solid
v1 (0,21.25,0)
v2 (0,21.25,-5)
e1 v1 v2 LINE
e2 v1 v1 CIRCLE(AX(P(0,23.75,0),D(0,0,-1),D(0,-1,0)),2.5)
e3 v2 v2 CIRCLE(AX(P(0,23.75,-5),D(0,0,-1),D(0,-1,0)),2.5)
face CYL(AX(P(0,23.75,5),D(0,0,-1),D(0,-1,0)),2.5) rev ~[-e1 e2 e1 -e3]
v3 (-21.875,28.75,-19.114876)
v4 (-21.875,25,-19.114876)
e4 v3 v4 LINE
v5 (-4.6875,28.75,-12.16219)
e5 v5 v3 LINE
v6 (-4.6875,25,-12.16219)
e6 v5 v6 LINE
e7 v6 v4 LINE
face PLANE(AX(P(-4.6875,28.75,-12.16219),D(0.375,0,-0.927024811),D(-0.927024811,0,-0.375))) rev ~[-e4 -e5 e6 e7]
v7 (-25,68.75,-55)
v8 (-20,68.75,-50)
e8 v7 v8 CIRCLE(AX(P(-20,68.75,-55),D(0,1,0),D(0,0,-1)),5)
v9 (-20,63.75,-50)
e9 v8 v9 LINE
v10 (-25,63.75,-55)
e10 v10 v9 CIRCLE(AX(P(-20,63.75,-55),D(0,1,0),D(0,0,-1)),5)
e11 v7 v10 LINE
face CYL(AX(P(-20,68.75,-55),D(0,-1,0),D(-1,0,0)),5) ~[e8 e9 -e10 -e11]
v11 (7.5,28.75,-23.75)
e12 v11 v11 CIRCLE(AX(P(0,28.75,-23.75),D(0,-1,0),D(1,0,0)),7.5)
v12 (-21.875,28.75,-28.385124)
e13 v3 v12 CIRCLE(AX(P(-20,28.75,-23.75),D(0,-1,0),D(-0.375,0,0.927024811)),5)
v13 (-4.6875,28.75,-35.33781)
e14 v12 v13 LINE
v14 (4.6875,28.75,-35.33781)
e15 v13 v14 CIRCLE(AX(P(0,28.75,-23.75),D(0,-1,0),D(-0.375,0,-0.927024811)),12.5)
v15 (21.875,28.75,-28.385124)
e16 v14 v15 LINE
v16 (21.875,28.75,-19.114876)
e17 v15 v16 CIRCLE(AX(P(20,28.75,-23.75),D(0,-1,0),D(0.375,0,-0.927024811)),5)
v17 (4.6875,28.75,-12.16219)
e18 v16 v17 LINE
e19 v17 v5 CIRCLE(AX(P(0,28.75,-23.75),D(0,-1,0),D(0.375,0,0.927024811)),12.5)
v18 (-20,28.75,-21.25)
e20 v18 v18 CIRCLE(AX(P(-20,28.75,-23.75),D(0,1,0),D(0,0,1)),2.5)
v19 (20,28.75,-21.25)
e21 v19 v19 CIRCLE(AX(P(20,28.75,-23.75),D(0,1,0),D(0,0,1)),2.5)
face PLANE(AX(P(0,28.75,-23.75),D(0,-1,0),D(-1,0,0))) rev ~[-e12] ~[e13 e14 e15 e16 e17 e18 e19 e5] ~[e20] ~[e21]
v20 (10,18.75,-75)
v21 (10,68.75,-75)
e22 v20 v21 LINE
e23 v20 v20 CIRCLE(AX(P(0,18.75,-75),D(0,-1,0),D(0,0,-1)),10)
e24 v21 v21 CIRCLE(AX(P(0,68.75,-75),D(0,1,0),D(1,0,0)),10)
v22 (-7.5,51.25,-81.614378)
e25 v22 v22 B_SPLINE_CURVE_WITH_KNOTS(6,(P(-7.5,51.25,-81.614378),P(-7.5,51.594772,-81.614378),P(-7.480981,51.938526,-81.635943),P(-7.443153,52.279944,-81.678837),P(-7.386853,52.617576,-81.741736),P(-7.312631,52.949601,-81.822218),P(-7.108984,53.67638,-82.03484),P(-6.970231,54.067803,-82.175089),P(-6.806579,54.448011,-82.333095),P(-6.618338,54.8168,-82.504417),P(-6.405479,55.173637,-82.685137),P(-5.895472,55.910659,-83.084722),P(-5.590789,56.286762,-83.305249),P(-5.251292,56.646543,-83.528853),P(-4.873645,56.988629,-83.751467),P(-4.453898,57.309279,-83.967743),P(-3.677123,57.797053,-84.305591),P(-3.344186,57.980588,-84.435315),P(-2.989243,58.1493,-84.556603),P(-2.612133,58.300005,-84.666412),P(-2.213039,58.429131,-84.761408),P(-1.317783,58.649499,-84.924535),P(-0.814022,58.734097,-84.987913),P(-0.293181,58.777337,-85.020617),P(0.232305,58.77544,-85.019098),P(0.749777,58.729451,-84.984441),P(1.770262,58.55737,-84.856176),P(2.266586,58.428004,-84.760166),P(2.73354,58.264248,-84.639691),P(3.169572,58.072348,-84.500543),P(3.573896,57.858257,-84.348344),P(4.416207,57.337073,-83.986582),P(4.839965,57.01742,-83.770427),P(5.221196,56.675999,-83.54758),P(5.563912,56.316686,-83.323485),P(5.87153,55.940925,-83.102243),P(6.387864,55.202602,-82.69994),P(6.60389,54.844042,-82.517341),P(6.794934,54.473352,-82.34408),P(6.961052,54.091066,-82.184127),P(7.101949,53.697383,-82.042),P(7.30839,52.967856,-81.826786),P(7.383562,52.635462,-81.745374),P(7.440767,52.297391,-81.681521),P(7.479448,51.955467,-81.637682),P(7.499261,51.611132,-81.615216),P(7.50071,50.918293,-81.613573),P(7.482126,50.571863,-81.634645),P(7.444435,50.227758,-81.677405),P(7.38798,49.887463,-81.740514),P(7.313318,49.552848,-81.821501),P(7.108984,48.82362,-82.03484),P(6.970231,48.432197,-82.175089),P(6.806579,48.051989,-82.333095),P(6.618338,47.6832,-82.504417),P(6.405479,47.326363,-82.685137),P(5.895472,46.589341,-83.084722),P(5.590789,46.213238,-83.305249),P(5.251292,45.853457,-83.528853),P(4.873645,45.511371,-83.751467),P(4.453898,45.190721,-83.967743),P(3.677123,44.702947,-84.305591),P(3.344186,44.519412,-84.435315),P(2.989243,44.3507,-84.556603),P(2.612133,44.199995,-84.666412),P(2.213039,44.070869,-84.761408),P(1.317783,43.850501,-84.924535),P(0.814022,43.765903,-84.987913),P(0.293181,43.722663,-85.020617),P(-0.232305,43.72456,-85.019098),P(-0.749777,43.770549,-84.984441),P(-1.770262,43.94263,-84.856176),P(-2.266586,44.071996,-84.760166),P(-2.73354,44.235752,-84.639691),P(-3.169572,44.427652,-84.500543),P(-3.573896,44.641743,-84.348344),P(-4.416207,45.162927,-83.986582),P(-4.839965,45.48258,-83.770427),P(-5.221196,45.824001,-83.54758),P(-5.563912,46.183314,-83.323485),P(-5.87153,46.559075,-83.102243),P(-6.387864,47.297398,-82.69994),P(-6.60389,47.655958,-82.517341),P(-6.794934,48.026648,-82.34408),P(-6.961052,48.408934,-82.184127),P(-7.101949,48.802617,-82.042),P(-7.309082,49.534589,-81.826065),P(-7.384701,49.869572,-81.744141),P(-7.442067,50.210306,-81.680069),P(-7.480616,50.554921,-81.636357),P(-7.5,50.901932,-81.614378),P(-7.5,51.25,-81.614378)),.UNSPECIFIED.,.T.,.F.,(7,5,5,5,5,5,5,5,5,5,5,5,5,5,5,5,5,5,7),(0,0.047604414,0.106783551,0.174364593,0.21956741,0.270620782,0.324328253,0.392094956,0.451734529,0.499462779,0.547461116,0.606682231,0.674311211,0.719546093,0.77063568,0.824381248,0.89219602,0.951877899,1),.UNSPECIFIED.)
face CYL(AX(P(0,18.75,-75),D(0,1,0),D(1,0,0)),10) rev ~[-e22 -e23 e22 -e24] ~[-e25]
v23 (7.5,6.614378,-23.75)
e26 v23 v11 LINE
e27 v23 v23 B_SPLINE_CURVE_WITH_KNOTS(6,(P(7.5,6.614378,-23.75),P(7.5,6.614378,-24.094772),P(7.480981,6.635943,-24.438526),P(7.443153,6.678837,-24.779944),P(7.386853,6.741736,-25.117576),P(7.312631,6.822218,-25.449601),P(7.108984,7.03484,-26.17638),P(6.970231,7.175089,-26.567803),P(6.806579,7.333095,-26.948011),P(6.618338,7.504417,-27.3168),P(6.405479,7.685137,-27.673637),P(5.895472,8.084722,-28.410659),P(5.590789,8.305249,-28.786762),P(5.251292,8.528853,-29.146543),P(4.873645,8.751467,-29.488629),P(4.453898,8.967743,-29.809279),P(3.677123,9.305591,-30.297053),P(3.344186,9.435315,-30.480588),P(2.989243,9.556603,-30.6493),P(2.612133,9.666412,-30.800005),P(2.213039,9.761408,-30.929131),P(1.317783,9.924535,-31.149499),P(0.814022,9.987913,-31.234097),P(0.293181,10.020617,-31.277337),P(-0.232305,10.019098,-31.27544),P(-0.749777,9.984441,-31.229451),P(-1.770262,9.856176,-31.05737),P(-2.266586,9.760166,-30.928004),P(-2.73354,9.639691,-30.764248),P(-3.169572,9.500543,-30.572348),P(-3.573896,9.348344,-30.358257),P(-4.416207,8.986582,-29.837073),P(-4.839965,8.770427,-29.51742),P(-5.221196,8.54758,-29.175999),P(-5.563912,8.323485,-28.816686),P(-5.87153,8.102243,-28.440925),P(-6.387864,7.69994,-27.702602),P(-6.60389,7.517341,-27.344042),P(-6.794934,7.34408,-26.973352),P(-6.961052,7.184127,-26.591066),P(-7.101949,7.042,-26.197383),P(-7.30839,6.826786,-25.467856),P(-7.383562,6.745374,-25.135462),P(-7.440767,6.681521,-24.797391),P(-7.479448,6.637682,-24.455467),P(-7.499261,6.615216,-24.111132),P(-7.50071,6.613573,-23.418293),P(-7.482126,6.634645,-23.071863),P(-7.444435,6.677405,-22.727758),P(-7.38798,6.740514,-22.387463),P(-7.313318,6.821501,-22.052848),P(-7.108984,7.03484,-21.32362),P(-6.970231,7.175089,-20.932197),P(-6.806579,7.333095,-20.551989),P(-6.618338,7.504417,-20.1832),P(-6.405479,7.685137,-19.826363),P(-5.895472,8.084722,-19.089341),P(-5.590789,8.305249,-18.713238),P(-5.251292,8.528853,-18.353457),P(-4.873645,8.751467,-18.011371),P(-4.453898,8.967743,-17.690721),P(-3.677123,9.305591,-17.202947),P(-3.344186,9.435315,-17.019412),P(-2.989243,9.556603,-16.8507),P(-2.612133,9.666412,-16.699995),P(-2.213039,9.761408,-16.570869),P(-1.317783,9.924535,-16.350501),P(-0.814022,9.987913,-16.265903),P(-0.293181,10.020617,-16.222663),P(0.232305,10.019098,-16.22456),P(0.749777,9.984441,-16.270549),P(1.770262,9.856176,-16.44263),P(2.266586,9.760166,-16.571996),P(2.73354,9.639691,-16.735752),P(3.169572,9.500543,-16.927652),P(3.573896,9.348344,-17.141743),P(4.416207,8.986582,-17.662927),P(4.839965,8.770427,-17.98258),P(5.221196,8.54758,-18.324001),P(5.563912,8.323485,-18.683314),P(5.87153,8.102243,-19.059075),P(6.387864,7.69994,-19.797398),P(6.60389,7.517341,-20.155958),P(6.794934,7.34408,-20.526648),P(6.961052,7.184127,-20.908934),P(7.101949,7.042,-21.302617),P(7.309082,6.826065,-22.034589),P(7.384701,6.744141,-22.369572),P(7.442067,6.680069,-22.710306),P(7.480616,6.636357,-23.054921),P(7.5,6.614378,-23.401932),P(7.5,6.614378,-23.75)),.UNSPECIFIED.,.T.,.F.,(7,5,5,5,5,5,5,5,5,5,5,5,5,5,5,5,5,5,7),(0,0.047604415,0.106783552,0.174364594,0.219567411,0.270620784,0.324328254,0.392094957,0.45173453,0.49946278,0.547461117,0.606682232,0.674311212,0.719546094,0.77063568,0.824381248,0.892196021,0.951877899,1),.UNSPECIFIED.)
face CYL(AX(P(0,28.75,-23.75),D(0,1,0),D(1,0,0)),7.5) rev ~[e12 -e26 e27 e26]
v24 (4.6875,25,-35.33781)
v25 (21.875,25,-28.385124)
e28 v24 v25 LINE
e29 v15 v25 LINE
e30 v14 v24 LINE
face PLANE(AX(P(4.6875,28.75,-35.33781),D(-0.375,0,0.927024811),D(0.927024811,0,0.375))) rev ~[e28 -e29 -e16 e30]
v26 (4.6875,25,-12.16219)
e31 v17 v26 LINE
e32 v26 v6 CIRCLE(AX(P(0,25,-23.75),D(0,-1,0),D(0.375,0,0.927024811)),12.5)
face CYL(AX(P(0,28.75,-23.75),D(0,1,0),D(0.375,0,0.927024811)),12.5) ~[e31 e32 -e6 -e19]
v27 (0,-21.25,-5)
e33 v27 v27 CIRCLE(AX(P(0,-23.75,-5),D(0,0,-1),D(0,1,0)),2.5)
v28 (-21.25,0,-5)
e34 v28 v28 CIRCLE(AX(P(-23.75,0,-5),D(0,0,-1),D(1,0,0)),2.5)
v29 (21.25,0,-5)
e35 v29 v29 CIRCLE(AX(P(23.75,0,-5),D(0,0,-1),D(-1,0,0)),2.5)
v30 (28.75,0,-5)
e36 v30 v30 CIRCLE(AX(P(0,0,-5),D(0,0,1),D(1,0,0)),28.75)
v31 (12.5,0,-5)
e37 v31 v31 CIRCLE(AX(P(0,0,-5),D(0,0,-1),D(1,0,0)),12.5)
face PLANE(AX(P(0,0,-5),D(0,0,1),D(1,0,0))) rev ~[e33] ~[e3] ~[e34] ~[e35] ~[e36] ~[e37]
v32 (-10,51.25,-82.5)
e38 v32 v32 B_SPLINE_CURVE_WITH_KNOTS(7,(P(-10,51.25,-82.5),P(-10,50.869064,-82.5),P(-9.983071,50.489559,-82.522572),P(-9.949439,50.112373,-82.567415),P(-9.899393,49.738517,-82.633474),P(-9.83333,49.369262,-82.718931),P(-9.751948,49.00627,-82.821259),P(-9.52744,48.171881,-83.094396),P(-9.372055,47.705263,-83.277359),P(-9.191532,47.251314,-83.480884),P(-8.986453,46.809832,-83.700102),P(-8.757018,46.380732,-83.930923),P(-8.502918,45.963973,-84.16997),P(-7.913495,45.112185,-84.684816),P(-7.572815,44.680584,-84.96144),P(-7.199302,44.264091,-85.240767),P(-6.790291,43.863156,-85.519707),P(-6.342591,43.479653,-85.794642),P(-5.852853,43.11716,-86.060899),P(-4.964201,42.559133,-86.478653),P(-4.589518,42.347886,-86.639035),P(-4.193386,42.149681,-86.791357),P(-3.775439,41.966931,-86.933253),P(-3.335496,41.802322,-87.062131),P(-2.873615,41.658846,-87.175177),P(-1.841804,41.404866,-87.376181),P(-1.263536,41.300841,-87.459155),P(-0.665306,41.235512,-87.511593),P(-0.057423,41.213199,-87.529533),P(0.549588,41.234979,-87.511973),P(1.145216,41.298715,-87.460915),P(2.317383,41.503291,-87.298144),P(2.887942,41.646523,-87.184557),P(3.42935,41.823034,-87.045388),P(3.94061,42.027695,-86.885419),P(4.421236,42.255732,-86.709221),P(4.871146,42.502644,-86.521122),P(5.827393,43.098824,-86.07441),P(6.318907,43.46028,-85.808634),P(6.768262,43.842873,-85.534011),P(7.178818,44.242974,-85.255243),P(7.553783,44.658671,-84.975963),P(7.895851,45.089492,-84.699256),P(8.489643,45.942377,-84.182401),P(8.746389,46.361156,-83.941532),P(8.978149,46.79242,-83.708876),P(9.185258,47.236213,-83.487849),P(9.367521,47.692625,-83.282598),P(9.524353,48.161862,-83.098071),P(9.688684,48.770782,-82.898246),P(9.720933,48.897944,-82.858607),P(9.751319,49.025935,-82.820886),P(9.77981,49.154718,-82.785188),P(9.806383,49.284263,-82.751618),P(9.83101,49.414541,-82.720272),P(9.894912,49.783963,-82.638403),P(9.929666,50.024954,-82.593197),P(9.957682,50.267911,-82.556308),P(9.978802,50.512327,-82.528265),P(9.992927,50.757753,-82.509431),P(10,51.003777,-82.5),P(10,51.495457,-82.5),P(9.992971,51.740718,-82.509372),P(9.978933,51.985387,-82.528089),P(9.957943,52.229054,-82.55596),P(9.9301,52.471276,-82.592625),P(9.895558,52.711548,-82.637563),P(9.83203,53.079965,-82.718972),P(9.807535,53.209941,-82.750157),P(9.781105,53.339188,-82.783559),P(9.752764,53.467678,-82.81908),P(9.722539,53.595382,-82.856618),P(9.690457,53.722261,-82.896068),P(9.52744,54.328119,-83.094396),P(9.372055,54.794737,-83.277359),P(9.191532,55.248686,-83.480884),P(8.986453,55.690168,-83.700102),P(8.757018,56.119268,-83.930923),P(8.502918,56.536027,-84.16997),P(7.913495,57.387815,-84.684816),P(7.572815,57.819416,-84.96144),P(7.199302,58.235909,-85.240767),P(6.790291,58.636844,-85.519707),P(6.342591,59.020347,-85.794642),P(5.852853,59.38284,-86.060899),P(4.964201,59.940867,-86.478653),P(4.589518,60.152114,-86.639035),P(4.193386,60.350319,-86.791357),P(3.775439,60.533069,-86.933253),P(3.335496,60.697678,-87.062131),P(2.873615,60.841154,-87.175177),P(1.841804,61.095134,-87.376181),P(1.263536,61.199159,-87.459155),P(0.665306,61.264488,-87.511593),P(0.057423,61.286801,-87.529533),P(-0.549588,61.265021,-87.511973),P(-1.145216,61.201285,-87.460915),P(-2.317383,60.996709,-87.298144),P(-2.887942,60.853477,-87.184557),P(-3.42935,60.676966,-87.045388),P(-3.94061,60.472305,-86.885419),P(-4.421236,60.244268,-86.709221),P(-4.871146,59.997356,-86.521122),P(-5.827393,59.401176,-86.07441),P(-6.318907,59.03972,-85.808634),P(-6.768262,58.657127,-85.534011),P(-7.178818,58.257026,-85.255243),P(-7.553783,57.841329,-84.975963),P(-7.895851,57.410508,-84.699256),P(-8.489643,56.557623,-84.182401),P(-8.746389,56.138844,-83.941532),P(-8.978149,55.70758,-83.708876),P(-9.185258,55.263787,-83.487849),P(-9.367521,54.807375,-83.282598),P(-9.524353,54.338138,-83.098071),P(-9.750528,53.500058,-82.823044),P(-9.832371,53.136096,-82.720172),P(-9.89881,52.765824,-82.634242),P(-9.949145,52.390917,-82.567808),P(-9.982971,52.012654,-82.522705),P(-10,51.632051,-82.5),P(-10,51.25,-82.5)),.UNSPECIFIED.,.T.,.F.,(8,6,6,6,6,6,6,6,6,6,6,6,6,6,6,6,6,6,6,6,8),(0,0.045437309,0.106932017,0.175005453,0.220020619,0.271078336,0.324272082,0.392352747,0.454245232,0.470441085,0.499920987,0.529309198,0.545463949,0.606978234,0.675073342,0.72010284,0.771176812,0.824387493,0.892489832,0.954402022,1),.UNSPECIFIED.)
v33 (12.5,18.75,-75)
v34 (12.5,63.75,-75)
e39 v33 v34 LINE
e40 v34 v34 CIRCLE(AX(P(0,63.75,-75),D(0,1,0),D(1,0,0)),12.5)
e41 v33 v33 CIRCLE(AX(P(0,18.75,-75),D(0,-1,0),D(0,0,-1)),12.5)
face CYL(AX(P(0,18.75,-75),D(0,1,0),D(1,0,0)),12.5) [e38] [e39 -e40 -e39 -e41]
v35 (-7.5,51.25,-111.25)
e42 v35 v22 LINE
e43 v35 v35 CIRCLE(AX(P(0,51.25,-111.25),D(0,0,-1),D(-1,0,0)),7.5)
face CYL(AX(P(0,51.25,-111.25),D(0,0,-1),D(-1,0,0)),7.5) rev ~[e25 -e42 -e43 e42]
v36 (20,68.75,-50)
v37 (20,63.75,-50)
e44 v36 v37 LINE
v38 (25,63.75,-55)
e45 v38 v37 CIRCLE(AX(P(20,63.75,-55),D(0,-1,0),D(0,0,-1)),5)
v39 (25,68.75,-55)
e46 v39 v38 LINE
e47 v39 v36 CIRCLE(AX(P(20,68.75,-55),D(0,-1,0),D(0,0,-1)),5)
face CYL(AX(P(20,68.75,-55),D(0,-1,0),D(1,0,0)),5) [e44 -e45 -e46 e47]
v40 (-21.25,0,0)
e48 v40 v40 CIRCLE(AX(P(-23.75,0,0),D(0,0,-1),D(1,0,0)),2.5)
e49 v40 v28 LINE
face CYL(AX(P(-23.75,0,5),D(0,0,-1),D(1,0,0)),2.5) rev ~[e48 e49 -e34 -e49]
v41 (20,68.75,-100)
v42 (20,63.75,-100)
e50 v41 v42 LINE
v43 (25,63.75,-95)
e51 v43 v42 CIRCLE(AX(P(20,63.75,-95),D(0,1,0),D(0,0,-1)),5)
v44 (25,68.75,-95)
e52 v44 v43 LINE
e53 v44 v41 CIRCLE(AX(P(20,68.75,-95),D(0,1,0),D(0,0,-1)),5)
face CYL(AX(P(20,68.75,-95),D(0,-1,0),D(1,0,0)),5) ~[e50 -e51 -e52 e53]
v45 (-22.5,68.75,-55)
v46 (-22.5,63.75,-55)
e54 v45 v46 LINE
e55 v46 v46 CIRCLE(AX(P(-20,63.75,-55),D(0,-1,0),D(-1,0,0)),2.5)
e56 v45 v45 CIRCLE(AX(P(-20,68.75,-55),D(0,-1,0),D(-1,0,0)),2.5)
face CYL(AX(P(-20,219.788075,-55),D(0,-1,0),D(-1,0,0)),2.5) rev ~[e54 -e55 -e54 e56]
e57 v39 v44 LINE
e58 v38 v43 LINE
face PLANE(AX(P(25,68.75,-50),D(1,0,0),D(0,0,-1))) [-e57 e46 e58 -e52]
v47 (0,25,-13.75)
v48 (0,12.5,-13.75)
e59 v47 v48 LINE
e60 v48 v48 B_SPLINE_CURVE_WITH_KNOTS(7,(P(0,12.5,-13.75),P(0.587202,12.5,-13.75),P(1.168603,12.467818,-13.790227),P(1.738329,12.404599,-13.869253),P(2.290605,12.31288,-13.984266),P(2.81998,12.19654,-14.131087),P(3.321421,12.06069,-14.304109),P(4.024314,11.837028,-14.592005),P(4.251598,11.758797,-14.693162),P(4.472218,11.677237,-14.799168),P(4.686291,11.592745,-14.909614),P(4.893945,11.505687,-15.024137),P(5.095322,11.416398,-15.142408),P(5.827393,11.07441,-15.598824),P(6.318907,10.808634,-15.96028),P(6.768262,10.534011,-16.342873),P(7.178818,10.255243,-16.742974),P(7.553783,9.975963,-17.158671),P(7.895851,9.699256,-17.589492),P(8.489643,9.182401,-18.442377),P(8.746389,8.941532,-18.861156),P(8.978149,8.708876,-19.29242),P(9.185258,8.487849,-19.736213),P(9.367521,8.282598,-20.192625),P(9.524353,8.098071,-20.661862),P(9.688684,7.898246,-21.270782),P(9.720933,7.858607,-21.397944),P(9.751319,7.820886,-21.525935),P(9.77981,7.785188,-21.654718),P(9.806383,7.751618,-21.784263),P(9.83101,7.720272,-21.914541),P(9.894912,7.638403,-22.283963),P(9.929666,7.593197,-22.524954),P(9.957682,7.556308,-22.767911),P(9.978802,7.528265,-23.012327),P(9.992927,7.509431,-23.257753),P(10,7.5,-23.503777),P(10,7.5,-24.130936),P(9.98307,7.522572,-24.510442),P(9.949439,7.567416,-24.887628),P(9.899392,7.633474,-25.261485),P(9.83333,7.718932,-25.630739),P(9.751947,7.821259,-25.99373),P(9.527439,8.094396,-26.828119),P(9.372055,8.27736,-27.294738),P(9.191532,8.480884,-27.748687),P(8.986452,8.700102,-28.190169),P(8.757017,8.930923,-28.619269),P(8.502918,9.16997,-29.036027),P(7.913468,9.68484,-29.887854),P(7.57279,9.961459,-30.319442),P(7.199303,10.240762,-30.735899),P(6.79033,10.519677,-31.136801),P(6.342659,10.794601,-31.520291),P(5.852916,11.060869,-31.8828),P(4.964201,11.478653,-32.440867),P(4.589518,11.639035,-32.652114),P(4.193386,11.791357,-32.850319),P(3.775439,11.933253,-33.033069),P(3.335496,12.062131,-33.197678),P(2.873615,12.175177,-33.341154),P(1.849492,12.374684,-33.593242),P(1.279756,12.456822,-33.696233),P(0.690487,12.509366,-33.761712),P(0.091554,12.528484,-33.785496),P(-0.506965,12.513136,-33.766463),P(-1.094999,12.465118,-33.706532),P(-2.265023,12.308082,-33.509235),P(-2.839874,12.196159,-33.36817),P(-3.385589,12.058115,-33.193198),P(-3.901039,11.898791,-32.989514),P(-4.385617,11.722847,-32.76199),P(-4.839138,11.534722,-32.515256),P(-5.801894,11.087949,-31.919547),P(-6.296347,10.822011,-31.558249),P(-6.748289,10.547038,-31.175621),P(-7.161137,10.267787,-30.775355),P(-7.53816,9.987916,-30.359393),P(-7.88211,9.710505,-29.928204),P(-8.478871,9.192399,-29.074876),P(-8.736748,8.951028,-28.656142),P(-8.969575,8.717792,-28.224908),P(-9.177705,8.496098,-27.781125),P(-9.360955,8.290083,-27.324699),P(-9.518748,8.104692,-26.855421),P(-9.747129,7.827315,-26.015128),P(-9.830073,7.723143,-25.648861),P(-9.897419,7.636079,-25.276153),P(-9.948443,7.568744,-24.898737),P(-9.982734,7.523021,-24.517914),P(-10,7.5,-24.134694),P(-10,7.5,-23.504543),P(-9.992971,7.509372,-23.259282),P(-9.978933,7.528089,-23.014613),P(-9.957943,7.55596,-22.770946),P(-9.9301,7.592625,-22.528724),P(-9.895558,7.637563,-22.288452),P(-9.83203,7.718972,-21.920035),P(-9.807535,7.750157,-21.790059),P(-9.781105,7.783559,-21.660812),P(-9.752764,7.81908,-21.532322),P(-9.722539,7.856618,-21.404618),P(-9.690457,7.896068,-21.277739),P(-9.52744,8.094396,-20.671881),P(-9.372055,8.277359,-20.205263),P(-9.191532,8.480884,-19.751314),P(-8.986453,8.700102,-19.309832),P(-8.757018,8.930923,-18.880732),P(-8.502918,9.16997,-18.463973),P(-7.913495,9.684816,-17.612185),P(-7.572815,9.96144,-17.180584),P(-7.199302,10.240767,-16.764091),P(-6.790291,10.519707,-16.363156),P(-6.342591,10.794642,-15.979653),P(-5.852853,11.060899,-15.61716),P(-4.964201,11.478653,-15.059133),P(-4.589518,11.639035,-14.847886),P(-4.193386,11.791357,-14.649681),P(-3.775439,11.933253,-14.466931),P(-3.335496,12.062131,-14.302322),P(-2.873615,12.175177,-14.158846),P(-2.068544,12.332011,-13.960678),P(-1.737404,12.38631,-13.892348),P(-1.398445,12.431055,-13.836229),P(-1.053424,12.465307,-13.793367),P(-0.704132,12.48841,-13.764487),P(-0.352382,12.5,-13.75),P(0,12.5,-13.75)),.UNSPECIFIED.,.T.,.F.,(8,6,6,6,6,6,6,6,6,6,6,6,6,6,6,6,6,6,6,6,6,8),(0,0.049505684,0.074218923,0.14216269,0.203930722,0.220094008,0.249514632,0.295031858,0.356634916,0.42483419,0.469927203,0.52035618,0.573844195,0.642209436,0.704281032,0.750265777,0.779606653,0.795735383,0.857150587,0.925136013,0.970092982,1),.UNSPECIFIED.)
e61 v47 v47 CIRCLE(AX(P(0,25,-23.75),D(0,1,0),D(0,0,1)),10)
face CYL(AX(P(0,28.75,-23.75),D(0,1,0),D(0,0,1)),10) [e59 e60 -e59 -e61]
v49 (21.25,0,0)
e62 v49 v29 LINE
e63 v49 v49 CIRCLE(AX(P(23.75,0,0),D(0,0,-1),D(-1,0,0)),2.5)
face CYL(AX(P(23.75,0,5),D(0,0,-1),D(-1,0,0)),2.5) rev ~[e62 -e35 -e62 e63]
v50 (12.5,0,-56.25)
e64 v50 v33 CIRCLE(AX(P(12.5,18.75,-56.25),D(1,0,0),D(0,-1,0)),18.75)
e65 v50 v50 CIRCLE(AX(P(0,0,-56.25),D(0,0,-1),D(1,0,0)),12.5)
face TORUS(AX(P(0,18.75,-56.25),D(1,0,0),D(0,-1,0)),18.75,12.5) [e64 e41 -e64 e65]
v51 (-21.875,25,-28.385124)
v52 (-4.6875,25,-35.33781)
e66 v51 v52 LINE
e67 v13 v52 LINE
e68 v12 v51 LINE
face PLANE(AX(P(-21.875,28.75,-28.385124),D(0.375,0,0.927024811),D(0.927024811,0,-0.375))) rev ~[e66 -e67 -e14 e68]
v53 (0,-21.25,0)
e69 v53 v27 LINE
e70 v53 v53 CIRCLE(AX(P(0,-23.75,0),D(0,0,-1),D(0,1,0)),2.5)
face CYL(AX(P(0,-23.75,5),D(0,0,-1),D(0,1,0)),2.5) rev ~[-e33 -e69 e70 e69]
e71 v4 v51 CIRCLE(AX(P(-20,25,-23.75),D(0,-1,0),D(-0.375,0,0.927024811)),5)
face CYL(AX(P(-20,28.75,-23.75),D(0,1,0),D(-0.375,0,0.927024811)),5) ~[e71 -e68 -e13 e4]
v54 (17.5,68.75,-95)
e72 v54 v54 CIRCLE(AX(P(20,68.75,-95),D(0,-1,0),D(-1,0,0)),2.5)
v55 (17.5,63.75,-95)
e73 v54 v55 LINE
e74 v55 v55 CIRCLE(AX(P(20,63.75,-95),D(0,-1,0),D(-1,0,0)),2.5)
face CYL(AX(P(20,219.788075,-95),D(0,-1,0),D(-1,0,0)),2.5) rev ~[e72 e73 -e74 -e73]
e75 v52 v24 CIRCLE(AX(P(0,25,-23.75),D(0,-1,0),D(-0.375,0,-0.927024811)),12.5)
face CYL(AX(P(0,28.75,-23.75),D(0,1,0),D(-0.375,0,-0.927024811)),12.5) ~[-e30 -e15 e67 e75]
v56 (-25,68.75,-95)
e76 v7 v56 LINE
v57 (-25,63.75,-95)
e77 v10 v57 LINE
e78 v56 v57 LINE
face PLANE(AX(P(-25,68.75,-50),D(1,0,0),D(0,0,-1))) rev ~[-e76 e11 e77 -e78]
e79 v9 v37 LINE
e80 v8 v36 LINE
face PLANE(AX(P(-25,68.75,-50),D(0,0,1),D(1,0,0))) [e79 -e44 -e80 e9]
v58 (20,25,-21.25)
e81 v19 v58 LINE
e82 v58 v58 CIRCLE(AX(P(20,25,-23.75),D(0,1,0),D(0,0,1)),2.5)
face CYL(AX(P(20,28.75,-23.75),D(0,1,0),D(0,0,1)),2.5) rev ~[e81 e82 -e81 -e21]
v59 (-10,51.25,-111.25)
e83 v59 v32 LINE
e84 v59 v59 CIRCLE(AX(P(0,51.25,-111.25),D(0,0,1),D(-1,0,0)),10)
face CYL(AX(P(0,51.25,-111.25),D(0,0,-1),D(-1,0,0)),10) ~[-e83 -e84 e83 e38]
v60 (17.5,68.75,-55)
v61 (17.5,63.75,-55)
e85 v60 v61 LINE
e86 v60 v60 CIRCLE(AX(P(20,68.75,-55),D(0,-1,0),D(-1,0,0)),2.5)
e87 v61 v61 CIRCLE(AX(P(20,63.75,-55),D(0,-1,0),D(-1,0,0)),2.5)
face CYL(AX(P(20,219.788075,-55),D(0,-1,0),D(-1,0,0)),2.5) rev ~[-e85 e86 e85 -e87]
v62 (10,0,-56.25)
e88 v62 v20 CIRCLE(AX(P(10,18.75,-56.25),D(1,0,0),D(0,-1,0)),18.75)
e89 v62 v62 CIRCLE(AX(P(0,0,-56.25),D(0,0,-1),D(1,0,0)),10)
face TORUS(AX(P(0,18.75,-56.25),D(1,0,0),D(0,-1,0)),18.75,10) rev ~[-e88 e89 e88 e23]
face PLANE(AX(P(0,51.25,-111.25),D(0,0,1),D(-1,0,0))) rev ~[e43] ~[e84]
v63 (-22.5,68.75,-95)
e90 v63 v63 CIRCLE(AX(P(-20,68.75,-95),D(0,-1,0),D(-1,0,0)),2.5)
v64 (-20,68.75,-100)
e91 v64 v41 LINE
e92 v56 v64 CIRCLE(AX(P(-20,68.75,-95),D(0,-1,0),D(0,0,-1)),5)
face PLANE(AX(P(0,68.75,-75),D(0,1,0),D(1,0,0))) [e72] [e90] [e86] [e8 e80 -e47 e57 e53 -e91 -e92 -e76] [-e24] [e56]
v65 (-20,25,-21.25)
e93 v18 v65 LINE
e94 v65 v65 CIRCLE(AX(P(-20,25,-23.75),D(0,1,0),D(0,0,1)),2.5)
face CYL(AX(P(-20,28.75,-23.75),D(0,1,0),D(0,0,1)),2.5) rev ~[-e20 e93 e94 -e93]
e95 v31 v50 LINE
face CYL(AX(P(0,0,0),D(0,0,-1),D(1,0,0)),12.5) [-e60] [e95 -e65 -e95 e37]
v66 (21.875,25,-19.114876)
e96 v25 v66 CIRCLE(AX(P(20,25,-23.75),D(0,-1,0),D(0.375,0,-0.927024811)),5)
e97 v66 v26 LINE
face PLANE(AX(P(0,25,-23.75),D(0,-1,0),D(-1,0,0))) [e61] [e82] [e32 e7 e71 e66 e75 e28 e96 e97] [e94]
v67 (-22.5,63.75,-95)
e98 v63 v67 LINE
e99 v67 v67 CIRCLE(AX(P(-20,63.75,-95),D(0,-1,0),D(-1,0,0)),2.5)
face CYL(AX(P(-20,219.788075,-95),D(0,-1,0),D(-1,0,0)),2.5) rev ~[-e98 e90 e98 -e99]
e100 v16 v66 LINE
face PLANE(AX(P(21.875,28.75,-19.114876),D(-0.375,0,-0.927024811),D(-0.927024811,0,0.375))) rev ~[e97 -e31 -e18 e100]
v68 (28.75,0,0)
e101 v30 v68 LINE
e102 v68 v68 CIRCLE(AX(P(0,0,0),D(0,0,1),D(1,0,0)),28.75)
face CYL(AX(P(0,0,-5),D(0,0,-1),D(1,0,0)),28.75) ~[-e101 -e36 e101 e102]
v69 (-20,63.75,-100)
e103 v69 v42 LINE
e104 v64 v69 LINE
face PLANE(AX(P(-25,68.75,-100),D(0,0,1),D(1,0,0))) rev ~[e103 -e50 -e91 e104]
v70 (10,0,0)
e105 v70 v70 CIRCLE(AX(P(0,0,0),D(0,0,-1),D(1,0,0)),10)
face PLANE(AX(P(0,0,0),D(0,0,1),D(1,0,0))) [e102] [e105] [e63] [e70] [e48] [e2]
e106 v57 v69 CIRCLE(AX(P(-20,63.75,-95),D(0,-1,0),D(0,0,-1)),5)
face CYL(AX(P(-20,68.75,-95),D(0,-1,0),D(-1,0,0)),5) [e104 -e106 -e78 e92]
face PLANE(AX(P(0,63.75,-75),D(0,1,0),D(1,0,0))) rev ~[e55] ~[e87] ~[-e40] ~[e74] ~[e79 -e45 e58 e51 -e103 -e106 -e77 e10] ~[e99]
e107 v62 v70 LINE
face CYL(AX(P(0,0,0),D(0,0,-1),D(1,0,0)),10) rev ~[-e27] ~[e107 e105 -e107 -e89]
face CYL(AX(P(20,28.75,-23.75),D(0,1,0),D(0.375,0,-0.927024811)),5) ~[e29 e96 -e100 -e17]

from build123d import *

# Parameters (mm, degrees)
SKETCH2_R                = 12.5
SKETCH2_R_2              = 10
BOSS_EXTRUDE1_START      = -5
SKETCH3_R                = 28.75
SKETCH3_R_2              = 10
BOSS_EXTRUDE1_DEPTH      = 5
HOLE1_D                  = 5
HOLE1_DEPTH              = 5
CIRPATTERN1_COUNT        = 4
SKETCH6_W                = 50
SKETCH6_H                = 50
SKETCH6_R                = 10
BOSS_EXTRUDE2_DEPTH      = 5
FILLET1_R                = 5
HOLE2_D                  = 5
BOSS_EXTRUDE3_REACH      = 120.882
BOSS_EXTRUDE3_END_RADIUS = 12.5
SKETCH9_R                = 10
HOLE3_REACH              = 120.882
HOLE3_BORE_R             = 7.5
SKETCH13_R               = 7.5
SKETCH13_R_2             = 2.5
BOSS_EXTRUDE4_DEPTH      = 3.75
BOSS_EXTRUDE5_REACH      = 135.902
BOSS_EXTRUDE5_END_RADIUS = 12.5
SKETCH14_R               = 10
HOLE4_REACH              = 135.902
HOLE4_BORE_R             = 7.5


with BuildPart() as part:
    # Sweep1: sweep along a path in Sketch1
    with BuildLine(Plane(origin=(0, 0, 0), x_dir=(0, 0, -1), z_dir=(1, 0, 0))) as sweep1_path:
        Line((0, 0), (56.25, 0))
        ThreePointArc((56.25, 0), (69.508252147, 5.491747853), (75, 18.75))
        Line((75, 18.75), (75, 68.75))
    # Sketch2 → Sweep1 (sweep)
    with BuildSketch(Plane.XY):
        Circle(SKETCH2_R)
        Circle(SKETCH2_R_2, mode=Mode.SUBTRACT)
    sweep(path=sweep1_path.line)

    # Sketch3 → Boss-Extrude1 (add)
    with BuildSketch(Plane.XY.offset(BOSS_EXTRUDE1_START)):
        Circle(SKETCH3_R)
        with Locations(Location((0, 0, 0), (0, 0, 270))):
            Circle(SKETCH3_R_2, mode=Mode.SUBTRACT)
    extrude(amount=BOSS_EXTRUDE1_DEPTH)

    # Hole1
    with Locations(Plane.XY):
        with Locations((23.75, 0)):
            hole1 = Hole(HOLE1_D / 2, depth=HOLE1_DEPTH)

    # CirPattern1: Hole1 ×4 about axis
    cirpattern1_axis = Axis((0, 0, 0), (0, 0, 1))
    for i in range(1, CIRPATTERN1_COUNT):
        add(hole1.rotate(cirpattern1_axis, i * 360 / CIRPATTERN1_COUNT), mode=Mode.SUBTRACT)

    # Sketch6 → Boss-Extrude2 (add)
    with BuildSketch(Plane(origin=(0, 68.75, 0), x_dir=(1, 0, 0), z_dir=(0, 1, 0))):
        with Locations((0, 75)):
            Rectangle(SKETCH6_W, SKETCH6_H)
        with Locations((0, 75)):
            Circle(SKETCH6_R, mode=Mode.SUBTRACT)
    extrude(amount=-BOSS_EXTRUDE2_DEPTH)

    # Fillet1
    fillet1_edges = [part.edges().sort_by_distance(p)[0] for p in [
        (25, 66.25, -100),
        (25, 66.25, -50),
        (-25, 66.25, -50),
        (-25, 66.25, -100),
    ]]
    fillet(fillet1_edges, radius=FILLET1_R)

    # Hole2 (through all)
    with Locations(Plane(origin=(0, 68.75, 0), x_dir=(1, 0, 0), z_dir=(0, 1, 0))):
        with Locations((-20, 55), (20, 55), (20, 95), (-20, 95)):
            Hole(HOLE2_D / 2)

    # Boss-Extrude3: up to this cylinder (the profile starts outside it)
    boss_extrude3_end = Plane(origin=(0, 0, -23.75), z_dir=(0, 0, -1)) * Cylinder(BOSS_EXTRUDE3_END_RADIUS, 267.764, mode=Mode.PRIVATE)
    # Sketch9 → Boss-Extrude3 (add, up to the surface)
    with BuildSketch(Plane(origin=(0, 28.75, 0), x_dir=(1, 0, 0), z_dir=(0, 1, 0)), mode=Mode.PRIVATE) as boss_extrude3_sk1:
        with Locations(Location((0, 23.75, 0), (0, 0, 270))):
            Circle(SKETCH9_R)
    boss_extrude3_tool1 = extrude(boss_extrude3_sk1.sketch, amount=-BOSS_EXTRUDE3_REACH, mode=Mode.PRIVATE) - boss_extrude3_end
    add(boss_extrude3_tool1.solids().sort_by_distance((0, 28.75, -23.75))[0])

    # Hole3 bore → Hole3 (cut, up to next)
    with BuildSketch(Plane(origin=(0, 28.75, 0), x_dir=(1, 0, 0), z_dir=(0, 1, 0)), mode=Mode.PRIVATE) as hole3_sk1:
        with Locations((0, 23.75)):
            Circle(HOLE3_BORE_R)
    hole3_tool1 = extrude(hole3_sk1.sketch, amount=-HOLE3_REACH, mode=Mode.PRIVATE) & part.part
    add(hole3_tool1.solids().sort_by_distance((0, 28.75, -23.75))[0], mode=Mode.SUBTRACT)

    # Sketch13 → Boss-Extrude4 (add)
    with BuildSketch(Plane(origin=(0, 28.75, 0), x_dir=(1, 0, 0), z_dir=(0, 1, 0))):
        with BuildLine():
            Line((-21.875, 28.385124054), (-4.6875, 35.337810136))
            ThreePointArc((-4.6875, 35.337810136), (0, 36.25), (4.6875, 35.337810136))
            Line((4.6875, 35.337810136), (21.875, 28.385124054))
            ThreePointArc((21.875, 28.385124054), (25, 23.75), (21.875, 19.114875946))
            Line((21.875, 19.114875946), (4.6875, 12.162189864))
            ThreePointArc((4.6875, 12.162189864), (0, 11.25), (-4.6875, 12.162189864))
            Line((-4.6875, 12.162189864), (-21.875, 19.114875946))
            ThreePointArc((-21.875, 19.114875946), (-25, 23.75), (-21.875, 28.385124054))
        make_face()
        with Locations(Location((0, 23.75, 0), (0, 0, 270))):
            Circle(SKETCH13_R, mode=Mode.SUBTRACT)
        with Locations(Location((-20, 23.75, 0), (0, 0, 270))):
            Circle(SKETCH13_R_2, mode=Mode.SUBTRACT)
        with Locations(Location((20, 23.75, 0), (0, 0, 270))):
            Circle(SKETCH13_R_2, mode=Mode.SUBTRACT)
    extrude(amount=-BOSS_EXTRUDE4_DEPTH)

    # Boss-Extrude5: up to this cylinder (the profile starts outside it)
    boss_extrude5_end = Plane(origin=(0, 51.25, -75), z_dir=(0, 1, 0)) * Cylinder(BOSS_EXTRUDE5_END_RADIUS, 297.804, mode=Mode.PRIVATE)
    # Sketch14 → Boss-Extrude5 (add, up to the surface)
    with BuildSketch(Plane.XY.offset(-111.25), mode=Mode.PRIVATE) as boss_extrude5_sk1:
        with Locations(Location((0, 51.25, 0), (0, 0, 180))):
            Circle(SKETCH14_R)
    boss_extrude5_tool1 = extrude(boss_extrude5_sk1.sketch, amount=BOSS_EXTRUDE5_REACH, mode=Mode.PRIVATE) - boss_extrude5_end
    add(boss_extrude5_tool1.solids().sort_by_distance((0, 51.25, -111.25))[0])

    # Hole4 bore → Hole4 (cut, up to next)
    with BuildSketch(Plane(origin=(0, 0, -111.25), x_dir=(-1, 0, 0), z_dir=(0, 0, -1)), mode=Mode.PRIVATE) as hole4_sk1:
        with Locations((0, 51.25)):
            Circle(HOLE4_BORE_R)
    hole4_tool1 = extrude(hole4_sk1.sketch, amount=-HOLE4_REACH, mode=Mode.PRIVATE) & part.part
    add(hole4_tool1.solids().sort_by_distance((0, 51.25, -111.25))[0], mode=Mode.SUBTRACT)


solid = part.part
